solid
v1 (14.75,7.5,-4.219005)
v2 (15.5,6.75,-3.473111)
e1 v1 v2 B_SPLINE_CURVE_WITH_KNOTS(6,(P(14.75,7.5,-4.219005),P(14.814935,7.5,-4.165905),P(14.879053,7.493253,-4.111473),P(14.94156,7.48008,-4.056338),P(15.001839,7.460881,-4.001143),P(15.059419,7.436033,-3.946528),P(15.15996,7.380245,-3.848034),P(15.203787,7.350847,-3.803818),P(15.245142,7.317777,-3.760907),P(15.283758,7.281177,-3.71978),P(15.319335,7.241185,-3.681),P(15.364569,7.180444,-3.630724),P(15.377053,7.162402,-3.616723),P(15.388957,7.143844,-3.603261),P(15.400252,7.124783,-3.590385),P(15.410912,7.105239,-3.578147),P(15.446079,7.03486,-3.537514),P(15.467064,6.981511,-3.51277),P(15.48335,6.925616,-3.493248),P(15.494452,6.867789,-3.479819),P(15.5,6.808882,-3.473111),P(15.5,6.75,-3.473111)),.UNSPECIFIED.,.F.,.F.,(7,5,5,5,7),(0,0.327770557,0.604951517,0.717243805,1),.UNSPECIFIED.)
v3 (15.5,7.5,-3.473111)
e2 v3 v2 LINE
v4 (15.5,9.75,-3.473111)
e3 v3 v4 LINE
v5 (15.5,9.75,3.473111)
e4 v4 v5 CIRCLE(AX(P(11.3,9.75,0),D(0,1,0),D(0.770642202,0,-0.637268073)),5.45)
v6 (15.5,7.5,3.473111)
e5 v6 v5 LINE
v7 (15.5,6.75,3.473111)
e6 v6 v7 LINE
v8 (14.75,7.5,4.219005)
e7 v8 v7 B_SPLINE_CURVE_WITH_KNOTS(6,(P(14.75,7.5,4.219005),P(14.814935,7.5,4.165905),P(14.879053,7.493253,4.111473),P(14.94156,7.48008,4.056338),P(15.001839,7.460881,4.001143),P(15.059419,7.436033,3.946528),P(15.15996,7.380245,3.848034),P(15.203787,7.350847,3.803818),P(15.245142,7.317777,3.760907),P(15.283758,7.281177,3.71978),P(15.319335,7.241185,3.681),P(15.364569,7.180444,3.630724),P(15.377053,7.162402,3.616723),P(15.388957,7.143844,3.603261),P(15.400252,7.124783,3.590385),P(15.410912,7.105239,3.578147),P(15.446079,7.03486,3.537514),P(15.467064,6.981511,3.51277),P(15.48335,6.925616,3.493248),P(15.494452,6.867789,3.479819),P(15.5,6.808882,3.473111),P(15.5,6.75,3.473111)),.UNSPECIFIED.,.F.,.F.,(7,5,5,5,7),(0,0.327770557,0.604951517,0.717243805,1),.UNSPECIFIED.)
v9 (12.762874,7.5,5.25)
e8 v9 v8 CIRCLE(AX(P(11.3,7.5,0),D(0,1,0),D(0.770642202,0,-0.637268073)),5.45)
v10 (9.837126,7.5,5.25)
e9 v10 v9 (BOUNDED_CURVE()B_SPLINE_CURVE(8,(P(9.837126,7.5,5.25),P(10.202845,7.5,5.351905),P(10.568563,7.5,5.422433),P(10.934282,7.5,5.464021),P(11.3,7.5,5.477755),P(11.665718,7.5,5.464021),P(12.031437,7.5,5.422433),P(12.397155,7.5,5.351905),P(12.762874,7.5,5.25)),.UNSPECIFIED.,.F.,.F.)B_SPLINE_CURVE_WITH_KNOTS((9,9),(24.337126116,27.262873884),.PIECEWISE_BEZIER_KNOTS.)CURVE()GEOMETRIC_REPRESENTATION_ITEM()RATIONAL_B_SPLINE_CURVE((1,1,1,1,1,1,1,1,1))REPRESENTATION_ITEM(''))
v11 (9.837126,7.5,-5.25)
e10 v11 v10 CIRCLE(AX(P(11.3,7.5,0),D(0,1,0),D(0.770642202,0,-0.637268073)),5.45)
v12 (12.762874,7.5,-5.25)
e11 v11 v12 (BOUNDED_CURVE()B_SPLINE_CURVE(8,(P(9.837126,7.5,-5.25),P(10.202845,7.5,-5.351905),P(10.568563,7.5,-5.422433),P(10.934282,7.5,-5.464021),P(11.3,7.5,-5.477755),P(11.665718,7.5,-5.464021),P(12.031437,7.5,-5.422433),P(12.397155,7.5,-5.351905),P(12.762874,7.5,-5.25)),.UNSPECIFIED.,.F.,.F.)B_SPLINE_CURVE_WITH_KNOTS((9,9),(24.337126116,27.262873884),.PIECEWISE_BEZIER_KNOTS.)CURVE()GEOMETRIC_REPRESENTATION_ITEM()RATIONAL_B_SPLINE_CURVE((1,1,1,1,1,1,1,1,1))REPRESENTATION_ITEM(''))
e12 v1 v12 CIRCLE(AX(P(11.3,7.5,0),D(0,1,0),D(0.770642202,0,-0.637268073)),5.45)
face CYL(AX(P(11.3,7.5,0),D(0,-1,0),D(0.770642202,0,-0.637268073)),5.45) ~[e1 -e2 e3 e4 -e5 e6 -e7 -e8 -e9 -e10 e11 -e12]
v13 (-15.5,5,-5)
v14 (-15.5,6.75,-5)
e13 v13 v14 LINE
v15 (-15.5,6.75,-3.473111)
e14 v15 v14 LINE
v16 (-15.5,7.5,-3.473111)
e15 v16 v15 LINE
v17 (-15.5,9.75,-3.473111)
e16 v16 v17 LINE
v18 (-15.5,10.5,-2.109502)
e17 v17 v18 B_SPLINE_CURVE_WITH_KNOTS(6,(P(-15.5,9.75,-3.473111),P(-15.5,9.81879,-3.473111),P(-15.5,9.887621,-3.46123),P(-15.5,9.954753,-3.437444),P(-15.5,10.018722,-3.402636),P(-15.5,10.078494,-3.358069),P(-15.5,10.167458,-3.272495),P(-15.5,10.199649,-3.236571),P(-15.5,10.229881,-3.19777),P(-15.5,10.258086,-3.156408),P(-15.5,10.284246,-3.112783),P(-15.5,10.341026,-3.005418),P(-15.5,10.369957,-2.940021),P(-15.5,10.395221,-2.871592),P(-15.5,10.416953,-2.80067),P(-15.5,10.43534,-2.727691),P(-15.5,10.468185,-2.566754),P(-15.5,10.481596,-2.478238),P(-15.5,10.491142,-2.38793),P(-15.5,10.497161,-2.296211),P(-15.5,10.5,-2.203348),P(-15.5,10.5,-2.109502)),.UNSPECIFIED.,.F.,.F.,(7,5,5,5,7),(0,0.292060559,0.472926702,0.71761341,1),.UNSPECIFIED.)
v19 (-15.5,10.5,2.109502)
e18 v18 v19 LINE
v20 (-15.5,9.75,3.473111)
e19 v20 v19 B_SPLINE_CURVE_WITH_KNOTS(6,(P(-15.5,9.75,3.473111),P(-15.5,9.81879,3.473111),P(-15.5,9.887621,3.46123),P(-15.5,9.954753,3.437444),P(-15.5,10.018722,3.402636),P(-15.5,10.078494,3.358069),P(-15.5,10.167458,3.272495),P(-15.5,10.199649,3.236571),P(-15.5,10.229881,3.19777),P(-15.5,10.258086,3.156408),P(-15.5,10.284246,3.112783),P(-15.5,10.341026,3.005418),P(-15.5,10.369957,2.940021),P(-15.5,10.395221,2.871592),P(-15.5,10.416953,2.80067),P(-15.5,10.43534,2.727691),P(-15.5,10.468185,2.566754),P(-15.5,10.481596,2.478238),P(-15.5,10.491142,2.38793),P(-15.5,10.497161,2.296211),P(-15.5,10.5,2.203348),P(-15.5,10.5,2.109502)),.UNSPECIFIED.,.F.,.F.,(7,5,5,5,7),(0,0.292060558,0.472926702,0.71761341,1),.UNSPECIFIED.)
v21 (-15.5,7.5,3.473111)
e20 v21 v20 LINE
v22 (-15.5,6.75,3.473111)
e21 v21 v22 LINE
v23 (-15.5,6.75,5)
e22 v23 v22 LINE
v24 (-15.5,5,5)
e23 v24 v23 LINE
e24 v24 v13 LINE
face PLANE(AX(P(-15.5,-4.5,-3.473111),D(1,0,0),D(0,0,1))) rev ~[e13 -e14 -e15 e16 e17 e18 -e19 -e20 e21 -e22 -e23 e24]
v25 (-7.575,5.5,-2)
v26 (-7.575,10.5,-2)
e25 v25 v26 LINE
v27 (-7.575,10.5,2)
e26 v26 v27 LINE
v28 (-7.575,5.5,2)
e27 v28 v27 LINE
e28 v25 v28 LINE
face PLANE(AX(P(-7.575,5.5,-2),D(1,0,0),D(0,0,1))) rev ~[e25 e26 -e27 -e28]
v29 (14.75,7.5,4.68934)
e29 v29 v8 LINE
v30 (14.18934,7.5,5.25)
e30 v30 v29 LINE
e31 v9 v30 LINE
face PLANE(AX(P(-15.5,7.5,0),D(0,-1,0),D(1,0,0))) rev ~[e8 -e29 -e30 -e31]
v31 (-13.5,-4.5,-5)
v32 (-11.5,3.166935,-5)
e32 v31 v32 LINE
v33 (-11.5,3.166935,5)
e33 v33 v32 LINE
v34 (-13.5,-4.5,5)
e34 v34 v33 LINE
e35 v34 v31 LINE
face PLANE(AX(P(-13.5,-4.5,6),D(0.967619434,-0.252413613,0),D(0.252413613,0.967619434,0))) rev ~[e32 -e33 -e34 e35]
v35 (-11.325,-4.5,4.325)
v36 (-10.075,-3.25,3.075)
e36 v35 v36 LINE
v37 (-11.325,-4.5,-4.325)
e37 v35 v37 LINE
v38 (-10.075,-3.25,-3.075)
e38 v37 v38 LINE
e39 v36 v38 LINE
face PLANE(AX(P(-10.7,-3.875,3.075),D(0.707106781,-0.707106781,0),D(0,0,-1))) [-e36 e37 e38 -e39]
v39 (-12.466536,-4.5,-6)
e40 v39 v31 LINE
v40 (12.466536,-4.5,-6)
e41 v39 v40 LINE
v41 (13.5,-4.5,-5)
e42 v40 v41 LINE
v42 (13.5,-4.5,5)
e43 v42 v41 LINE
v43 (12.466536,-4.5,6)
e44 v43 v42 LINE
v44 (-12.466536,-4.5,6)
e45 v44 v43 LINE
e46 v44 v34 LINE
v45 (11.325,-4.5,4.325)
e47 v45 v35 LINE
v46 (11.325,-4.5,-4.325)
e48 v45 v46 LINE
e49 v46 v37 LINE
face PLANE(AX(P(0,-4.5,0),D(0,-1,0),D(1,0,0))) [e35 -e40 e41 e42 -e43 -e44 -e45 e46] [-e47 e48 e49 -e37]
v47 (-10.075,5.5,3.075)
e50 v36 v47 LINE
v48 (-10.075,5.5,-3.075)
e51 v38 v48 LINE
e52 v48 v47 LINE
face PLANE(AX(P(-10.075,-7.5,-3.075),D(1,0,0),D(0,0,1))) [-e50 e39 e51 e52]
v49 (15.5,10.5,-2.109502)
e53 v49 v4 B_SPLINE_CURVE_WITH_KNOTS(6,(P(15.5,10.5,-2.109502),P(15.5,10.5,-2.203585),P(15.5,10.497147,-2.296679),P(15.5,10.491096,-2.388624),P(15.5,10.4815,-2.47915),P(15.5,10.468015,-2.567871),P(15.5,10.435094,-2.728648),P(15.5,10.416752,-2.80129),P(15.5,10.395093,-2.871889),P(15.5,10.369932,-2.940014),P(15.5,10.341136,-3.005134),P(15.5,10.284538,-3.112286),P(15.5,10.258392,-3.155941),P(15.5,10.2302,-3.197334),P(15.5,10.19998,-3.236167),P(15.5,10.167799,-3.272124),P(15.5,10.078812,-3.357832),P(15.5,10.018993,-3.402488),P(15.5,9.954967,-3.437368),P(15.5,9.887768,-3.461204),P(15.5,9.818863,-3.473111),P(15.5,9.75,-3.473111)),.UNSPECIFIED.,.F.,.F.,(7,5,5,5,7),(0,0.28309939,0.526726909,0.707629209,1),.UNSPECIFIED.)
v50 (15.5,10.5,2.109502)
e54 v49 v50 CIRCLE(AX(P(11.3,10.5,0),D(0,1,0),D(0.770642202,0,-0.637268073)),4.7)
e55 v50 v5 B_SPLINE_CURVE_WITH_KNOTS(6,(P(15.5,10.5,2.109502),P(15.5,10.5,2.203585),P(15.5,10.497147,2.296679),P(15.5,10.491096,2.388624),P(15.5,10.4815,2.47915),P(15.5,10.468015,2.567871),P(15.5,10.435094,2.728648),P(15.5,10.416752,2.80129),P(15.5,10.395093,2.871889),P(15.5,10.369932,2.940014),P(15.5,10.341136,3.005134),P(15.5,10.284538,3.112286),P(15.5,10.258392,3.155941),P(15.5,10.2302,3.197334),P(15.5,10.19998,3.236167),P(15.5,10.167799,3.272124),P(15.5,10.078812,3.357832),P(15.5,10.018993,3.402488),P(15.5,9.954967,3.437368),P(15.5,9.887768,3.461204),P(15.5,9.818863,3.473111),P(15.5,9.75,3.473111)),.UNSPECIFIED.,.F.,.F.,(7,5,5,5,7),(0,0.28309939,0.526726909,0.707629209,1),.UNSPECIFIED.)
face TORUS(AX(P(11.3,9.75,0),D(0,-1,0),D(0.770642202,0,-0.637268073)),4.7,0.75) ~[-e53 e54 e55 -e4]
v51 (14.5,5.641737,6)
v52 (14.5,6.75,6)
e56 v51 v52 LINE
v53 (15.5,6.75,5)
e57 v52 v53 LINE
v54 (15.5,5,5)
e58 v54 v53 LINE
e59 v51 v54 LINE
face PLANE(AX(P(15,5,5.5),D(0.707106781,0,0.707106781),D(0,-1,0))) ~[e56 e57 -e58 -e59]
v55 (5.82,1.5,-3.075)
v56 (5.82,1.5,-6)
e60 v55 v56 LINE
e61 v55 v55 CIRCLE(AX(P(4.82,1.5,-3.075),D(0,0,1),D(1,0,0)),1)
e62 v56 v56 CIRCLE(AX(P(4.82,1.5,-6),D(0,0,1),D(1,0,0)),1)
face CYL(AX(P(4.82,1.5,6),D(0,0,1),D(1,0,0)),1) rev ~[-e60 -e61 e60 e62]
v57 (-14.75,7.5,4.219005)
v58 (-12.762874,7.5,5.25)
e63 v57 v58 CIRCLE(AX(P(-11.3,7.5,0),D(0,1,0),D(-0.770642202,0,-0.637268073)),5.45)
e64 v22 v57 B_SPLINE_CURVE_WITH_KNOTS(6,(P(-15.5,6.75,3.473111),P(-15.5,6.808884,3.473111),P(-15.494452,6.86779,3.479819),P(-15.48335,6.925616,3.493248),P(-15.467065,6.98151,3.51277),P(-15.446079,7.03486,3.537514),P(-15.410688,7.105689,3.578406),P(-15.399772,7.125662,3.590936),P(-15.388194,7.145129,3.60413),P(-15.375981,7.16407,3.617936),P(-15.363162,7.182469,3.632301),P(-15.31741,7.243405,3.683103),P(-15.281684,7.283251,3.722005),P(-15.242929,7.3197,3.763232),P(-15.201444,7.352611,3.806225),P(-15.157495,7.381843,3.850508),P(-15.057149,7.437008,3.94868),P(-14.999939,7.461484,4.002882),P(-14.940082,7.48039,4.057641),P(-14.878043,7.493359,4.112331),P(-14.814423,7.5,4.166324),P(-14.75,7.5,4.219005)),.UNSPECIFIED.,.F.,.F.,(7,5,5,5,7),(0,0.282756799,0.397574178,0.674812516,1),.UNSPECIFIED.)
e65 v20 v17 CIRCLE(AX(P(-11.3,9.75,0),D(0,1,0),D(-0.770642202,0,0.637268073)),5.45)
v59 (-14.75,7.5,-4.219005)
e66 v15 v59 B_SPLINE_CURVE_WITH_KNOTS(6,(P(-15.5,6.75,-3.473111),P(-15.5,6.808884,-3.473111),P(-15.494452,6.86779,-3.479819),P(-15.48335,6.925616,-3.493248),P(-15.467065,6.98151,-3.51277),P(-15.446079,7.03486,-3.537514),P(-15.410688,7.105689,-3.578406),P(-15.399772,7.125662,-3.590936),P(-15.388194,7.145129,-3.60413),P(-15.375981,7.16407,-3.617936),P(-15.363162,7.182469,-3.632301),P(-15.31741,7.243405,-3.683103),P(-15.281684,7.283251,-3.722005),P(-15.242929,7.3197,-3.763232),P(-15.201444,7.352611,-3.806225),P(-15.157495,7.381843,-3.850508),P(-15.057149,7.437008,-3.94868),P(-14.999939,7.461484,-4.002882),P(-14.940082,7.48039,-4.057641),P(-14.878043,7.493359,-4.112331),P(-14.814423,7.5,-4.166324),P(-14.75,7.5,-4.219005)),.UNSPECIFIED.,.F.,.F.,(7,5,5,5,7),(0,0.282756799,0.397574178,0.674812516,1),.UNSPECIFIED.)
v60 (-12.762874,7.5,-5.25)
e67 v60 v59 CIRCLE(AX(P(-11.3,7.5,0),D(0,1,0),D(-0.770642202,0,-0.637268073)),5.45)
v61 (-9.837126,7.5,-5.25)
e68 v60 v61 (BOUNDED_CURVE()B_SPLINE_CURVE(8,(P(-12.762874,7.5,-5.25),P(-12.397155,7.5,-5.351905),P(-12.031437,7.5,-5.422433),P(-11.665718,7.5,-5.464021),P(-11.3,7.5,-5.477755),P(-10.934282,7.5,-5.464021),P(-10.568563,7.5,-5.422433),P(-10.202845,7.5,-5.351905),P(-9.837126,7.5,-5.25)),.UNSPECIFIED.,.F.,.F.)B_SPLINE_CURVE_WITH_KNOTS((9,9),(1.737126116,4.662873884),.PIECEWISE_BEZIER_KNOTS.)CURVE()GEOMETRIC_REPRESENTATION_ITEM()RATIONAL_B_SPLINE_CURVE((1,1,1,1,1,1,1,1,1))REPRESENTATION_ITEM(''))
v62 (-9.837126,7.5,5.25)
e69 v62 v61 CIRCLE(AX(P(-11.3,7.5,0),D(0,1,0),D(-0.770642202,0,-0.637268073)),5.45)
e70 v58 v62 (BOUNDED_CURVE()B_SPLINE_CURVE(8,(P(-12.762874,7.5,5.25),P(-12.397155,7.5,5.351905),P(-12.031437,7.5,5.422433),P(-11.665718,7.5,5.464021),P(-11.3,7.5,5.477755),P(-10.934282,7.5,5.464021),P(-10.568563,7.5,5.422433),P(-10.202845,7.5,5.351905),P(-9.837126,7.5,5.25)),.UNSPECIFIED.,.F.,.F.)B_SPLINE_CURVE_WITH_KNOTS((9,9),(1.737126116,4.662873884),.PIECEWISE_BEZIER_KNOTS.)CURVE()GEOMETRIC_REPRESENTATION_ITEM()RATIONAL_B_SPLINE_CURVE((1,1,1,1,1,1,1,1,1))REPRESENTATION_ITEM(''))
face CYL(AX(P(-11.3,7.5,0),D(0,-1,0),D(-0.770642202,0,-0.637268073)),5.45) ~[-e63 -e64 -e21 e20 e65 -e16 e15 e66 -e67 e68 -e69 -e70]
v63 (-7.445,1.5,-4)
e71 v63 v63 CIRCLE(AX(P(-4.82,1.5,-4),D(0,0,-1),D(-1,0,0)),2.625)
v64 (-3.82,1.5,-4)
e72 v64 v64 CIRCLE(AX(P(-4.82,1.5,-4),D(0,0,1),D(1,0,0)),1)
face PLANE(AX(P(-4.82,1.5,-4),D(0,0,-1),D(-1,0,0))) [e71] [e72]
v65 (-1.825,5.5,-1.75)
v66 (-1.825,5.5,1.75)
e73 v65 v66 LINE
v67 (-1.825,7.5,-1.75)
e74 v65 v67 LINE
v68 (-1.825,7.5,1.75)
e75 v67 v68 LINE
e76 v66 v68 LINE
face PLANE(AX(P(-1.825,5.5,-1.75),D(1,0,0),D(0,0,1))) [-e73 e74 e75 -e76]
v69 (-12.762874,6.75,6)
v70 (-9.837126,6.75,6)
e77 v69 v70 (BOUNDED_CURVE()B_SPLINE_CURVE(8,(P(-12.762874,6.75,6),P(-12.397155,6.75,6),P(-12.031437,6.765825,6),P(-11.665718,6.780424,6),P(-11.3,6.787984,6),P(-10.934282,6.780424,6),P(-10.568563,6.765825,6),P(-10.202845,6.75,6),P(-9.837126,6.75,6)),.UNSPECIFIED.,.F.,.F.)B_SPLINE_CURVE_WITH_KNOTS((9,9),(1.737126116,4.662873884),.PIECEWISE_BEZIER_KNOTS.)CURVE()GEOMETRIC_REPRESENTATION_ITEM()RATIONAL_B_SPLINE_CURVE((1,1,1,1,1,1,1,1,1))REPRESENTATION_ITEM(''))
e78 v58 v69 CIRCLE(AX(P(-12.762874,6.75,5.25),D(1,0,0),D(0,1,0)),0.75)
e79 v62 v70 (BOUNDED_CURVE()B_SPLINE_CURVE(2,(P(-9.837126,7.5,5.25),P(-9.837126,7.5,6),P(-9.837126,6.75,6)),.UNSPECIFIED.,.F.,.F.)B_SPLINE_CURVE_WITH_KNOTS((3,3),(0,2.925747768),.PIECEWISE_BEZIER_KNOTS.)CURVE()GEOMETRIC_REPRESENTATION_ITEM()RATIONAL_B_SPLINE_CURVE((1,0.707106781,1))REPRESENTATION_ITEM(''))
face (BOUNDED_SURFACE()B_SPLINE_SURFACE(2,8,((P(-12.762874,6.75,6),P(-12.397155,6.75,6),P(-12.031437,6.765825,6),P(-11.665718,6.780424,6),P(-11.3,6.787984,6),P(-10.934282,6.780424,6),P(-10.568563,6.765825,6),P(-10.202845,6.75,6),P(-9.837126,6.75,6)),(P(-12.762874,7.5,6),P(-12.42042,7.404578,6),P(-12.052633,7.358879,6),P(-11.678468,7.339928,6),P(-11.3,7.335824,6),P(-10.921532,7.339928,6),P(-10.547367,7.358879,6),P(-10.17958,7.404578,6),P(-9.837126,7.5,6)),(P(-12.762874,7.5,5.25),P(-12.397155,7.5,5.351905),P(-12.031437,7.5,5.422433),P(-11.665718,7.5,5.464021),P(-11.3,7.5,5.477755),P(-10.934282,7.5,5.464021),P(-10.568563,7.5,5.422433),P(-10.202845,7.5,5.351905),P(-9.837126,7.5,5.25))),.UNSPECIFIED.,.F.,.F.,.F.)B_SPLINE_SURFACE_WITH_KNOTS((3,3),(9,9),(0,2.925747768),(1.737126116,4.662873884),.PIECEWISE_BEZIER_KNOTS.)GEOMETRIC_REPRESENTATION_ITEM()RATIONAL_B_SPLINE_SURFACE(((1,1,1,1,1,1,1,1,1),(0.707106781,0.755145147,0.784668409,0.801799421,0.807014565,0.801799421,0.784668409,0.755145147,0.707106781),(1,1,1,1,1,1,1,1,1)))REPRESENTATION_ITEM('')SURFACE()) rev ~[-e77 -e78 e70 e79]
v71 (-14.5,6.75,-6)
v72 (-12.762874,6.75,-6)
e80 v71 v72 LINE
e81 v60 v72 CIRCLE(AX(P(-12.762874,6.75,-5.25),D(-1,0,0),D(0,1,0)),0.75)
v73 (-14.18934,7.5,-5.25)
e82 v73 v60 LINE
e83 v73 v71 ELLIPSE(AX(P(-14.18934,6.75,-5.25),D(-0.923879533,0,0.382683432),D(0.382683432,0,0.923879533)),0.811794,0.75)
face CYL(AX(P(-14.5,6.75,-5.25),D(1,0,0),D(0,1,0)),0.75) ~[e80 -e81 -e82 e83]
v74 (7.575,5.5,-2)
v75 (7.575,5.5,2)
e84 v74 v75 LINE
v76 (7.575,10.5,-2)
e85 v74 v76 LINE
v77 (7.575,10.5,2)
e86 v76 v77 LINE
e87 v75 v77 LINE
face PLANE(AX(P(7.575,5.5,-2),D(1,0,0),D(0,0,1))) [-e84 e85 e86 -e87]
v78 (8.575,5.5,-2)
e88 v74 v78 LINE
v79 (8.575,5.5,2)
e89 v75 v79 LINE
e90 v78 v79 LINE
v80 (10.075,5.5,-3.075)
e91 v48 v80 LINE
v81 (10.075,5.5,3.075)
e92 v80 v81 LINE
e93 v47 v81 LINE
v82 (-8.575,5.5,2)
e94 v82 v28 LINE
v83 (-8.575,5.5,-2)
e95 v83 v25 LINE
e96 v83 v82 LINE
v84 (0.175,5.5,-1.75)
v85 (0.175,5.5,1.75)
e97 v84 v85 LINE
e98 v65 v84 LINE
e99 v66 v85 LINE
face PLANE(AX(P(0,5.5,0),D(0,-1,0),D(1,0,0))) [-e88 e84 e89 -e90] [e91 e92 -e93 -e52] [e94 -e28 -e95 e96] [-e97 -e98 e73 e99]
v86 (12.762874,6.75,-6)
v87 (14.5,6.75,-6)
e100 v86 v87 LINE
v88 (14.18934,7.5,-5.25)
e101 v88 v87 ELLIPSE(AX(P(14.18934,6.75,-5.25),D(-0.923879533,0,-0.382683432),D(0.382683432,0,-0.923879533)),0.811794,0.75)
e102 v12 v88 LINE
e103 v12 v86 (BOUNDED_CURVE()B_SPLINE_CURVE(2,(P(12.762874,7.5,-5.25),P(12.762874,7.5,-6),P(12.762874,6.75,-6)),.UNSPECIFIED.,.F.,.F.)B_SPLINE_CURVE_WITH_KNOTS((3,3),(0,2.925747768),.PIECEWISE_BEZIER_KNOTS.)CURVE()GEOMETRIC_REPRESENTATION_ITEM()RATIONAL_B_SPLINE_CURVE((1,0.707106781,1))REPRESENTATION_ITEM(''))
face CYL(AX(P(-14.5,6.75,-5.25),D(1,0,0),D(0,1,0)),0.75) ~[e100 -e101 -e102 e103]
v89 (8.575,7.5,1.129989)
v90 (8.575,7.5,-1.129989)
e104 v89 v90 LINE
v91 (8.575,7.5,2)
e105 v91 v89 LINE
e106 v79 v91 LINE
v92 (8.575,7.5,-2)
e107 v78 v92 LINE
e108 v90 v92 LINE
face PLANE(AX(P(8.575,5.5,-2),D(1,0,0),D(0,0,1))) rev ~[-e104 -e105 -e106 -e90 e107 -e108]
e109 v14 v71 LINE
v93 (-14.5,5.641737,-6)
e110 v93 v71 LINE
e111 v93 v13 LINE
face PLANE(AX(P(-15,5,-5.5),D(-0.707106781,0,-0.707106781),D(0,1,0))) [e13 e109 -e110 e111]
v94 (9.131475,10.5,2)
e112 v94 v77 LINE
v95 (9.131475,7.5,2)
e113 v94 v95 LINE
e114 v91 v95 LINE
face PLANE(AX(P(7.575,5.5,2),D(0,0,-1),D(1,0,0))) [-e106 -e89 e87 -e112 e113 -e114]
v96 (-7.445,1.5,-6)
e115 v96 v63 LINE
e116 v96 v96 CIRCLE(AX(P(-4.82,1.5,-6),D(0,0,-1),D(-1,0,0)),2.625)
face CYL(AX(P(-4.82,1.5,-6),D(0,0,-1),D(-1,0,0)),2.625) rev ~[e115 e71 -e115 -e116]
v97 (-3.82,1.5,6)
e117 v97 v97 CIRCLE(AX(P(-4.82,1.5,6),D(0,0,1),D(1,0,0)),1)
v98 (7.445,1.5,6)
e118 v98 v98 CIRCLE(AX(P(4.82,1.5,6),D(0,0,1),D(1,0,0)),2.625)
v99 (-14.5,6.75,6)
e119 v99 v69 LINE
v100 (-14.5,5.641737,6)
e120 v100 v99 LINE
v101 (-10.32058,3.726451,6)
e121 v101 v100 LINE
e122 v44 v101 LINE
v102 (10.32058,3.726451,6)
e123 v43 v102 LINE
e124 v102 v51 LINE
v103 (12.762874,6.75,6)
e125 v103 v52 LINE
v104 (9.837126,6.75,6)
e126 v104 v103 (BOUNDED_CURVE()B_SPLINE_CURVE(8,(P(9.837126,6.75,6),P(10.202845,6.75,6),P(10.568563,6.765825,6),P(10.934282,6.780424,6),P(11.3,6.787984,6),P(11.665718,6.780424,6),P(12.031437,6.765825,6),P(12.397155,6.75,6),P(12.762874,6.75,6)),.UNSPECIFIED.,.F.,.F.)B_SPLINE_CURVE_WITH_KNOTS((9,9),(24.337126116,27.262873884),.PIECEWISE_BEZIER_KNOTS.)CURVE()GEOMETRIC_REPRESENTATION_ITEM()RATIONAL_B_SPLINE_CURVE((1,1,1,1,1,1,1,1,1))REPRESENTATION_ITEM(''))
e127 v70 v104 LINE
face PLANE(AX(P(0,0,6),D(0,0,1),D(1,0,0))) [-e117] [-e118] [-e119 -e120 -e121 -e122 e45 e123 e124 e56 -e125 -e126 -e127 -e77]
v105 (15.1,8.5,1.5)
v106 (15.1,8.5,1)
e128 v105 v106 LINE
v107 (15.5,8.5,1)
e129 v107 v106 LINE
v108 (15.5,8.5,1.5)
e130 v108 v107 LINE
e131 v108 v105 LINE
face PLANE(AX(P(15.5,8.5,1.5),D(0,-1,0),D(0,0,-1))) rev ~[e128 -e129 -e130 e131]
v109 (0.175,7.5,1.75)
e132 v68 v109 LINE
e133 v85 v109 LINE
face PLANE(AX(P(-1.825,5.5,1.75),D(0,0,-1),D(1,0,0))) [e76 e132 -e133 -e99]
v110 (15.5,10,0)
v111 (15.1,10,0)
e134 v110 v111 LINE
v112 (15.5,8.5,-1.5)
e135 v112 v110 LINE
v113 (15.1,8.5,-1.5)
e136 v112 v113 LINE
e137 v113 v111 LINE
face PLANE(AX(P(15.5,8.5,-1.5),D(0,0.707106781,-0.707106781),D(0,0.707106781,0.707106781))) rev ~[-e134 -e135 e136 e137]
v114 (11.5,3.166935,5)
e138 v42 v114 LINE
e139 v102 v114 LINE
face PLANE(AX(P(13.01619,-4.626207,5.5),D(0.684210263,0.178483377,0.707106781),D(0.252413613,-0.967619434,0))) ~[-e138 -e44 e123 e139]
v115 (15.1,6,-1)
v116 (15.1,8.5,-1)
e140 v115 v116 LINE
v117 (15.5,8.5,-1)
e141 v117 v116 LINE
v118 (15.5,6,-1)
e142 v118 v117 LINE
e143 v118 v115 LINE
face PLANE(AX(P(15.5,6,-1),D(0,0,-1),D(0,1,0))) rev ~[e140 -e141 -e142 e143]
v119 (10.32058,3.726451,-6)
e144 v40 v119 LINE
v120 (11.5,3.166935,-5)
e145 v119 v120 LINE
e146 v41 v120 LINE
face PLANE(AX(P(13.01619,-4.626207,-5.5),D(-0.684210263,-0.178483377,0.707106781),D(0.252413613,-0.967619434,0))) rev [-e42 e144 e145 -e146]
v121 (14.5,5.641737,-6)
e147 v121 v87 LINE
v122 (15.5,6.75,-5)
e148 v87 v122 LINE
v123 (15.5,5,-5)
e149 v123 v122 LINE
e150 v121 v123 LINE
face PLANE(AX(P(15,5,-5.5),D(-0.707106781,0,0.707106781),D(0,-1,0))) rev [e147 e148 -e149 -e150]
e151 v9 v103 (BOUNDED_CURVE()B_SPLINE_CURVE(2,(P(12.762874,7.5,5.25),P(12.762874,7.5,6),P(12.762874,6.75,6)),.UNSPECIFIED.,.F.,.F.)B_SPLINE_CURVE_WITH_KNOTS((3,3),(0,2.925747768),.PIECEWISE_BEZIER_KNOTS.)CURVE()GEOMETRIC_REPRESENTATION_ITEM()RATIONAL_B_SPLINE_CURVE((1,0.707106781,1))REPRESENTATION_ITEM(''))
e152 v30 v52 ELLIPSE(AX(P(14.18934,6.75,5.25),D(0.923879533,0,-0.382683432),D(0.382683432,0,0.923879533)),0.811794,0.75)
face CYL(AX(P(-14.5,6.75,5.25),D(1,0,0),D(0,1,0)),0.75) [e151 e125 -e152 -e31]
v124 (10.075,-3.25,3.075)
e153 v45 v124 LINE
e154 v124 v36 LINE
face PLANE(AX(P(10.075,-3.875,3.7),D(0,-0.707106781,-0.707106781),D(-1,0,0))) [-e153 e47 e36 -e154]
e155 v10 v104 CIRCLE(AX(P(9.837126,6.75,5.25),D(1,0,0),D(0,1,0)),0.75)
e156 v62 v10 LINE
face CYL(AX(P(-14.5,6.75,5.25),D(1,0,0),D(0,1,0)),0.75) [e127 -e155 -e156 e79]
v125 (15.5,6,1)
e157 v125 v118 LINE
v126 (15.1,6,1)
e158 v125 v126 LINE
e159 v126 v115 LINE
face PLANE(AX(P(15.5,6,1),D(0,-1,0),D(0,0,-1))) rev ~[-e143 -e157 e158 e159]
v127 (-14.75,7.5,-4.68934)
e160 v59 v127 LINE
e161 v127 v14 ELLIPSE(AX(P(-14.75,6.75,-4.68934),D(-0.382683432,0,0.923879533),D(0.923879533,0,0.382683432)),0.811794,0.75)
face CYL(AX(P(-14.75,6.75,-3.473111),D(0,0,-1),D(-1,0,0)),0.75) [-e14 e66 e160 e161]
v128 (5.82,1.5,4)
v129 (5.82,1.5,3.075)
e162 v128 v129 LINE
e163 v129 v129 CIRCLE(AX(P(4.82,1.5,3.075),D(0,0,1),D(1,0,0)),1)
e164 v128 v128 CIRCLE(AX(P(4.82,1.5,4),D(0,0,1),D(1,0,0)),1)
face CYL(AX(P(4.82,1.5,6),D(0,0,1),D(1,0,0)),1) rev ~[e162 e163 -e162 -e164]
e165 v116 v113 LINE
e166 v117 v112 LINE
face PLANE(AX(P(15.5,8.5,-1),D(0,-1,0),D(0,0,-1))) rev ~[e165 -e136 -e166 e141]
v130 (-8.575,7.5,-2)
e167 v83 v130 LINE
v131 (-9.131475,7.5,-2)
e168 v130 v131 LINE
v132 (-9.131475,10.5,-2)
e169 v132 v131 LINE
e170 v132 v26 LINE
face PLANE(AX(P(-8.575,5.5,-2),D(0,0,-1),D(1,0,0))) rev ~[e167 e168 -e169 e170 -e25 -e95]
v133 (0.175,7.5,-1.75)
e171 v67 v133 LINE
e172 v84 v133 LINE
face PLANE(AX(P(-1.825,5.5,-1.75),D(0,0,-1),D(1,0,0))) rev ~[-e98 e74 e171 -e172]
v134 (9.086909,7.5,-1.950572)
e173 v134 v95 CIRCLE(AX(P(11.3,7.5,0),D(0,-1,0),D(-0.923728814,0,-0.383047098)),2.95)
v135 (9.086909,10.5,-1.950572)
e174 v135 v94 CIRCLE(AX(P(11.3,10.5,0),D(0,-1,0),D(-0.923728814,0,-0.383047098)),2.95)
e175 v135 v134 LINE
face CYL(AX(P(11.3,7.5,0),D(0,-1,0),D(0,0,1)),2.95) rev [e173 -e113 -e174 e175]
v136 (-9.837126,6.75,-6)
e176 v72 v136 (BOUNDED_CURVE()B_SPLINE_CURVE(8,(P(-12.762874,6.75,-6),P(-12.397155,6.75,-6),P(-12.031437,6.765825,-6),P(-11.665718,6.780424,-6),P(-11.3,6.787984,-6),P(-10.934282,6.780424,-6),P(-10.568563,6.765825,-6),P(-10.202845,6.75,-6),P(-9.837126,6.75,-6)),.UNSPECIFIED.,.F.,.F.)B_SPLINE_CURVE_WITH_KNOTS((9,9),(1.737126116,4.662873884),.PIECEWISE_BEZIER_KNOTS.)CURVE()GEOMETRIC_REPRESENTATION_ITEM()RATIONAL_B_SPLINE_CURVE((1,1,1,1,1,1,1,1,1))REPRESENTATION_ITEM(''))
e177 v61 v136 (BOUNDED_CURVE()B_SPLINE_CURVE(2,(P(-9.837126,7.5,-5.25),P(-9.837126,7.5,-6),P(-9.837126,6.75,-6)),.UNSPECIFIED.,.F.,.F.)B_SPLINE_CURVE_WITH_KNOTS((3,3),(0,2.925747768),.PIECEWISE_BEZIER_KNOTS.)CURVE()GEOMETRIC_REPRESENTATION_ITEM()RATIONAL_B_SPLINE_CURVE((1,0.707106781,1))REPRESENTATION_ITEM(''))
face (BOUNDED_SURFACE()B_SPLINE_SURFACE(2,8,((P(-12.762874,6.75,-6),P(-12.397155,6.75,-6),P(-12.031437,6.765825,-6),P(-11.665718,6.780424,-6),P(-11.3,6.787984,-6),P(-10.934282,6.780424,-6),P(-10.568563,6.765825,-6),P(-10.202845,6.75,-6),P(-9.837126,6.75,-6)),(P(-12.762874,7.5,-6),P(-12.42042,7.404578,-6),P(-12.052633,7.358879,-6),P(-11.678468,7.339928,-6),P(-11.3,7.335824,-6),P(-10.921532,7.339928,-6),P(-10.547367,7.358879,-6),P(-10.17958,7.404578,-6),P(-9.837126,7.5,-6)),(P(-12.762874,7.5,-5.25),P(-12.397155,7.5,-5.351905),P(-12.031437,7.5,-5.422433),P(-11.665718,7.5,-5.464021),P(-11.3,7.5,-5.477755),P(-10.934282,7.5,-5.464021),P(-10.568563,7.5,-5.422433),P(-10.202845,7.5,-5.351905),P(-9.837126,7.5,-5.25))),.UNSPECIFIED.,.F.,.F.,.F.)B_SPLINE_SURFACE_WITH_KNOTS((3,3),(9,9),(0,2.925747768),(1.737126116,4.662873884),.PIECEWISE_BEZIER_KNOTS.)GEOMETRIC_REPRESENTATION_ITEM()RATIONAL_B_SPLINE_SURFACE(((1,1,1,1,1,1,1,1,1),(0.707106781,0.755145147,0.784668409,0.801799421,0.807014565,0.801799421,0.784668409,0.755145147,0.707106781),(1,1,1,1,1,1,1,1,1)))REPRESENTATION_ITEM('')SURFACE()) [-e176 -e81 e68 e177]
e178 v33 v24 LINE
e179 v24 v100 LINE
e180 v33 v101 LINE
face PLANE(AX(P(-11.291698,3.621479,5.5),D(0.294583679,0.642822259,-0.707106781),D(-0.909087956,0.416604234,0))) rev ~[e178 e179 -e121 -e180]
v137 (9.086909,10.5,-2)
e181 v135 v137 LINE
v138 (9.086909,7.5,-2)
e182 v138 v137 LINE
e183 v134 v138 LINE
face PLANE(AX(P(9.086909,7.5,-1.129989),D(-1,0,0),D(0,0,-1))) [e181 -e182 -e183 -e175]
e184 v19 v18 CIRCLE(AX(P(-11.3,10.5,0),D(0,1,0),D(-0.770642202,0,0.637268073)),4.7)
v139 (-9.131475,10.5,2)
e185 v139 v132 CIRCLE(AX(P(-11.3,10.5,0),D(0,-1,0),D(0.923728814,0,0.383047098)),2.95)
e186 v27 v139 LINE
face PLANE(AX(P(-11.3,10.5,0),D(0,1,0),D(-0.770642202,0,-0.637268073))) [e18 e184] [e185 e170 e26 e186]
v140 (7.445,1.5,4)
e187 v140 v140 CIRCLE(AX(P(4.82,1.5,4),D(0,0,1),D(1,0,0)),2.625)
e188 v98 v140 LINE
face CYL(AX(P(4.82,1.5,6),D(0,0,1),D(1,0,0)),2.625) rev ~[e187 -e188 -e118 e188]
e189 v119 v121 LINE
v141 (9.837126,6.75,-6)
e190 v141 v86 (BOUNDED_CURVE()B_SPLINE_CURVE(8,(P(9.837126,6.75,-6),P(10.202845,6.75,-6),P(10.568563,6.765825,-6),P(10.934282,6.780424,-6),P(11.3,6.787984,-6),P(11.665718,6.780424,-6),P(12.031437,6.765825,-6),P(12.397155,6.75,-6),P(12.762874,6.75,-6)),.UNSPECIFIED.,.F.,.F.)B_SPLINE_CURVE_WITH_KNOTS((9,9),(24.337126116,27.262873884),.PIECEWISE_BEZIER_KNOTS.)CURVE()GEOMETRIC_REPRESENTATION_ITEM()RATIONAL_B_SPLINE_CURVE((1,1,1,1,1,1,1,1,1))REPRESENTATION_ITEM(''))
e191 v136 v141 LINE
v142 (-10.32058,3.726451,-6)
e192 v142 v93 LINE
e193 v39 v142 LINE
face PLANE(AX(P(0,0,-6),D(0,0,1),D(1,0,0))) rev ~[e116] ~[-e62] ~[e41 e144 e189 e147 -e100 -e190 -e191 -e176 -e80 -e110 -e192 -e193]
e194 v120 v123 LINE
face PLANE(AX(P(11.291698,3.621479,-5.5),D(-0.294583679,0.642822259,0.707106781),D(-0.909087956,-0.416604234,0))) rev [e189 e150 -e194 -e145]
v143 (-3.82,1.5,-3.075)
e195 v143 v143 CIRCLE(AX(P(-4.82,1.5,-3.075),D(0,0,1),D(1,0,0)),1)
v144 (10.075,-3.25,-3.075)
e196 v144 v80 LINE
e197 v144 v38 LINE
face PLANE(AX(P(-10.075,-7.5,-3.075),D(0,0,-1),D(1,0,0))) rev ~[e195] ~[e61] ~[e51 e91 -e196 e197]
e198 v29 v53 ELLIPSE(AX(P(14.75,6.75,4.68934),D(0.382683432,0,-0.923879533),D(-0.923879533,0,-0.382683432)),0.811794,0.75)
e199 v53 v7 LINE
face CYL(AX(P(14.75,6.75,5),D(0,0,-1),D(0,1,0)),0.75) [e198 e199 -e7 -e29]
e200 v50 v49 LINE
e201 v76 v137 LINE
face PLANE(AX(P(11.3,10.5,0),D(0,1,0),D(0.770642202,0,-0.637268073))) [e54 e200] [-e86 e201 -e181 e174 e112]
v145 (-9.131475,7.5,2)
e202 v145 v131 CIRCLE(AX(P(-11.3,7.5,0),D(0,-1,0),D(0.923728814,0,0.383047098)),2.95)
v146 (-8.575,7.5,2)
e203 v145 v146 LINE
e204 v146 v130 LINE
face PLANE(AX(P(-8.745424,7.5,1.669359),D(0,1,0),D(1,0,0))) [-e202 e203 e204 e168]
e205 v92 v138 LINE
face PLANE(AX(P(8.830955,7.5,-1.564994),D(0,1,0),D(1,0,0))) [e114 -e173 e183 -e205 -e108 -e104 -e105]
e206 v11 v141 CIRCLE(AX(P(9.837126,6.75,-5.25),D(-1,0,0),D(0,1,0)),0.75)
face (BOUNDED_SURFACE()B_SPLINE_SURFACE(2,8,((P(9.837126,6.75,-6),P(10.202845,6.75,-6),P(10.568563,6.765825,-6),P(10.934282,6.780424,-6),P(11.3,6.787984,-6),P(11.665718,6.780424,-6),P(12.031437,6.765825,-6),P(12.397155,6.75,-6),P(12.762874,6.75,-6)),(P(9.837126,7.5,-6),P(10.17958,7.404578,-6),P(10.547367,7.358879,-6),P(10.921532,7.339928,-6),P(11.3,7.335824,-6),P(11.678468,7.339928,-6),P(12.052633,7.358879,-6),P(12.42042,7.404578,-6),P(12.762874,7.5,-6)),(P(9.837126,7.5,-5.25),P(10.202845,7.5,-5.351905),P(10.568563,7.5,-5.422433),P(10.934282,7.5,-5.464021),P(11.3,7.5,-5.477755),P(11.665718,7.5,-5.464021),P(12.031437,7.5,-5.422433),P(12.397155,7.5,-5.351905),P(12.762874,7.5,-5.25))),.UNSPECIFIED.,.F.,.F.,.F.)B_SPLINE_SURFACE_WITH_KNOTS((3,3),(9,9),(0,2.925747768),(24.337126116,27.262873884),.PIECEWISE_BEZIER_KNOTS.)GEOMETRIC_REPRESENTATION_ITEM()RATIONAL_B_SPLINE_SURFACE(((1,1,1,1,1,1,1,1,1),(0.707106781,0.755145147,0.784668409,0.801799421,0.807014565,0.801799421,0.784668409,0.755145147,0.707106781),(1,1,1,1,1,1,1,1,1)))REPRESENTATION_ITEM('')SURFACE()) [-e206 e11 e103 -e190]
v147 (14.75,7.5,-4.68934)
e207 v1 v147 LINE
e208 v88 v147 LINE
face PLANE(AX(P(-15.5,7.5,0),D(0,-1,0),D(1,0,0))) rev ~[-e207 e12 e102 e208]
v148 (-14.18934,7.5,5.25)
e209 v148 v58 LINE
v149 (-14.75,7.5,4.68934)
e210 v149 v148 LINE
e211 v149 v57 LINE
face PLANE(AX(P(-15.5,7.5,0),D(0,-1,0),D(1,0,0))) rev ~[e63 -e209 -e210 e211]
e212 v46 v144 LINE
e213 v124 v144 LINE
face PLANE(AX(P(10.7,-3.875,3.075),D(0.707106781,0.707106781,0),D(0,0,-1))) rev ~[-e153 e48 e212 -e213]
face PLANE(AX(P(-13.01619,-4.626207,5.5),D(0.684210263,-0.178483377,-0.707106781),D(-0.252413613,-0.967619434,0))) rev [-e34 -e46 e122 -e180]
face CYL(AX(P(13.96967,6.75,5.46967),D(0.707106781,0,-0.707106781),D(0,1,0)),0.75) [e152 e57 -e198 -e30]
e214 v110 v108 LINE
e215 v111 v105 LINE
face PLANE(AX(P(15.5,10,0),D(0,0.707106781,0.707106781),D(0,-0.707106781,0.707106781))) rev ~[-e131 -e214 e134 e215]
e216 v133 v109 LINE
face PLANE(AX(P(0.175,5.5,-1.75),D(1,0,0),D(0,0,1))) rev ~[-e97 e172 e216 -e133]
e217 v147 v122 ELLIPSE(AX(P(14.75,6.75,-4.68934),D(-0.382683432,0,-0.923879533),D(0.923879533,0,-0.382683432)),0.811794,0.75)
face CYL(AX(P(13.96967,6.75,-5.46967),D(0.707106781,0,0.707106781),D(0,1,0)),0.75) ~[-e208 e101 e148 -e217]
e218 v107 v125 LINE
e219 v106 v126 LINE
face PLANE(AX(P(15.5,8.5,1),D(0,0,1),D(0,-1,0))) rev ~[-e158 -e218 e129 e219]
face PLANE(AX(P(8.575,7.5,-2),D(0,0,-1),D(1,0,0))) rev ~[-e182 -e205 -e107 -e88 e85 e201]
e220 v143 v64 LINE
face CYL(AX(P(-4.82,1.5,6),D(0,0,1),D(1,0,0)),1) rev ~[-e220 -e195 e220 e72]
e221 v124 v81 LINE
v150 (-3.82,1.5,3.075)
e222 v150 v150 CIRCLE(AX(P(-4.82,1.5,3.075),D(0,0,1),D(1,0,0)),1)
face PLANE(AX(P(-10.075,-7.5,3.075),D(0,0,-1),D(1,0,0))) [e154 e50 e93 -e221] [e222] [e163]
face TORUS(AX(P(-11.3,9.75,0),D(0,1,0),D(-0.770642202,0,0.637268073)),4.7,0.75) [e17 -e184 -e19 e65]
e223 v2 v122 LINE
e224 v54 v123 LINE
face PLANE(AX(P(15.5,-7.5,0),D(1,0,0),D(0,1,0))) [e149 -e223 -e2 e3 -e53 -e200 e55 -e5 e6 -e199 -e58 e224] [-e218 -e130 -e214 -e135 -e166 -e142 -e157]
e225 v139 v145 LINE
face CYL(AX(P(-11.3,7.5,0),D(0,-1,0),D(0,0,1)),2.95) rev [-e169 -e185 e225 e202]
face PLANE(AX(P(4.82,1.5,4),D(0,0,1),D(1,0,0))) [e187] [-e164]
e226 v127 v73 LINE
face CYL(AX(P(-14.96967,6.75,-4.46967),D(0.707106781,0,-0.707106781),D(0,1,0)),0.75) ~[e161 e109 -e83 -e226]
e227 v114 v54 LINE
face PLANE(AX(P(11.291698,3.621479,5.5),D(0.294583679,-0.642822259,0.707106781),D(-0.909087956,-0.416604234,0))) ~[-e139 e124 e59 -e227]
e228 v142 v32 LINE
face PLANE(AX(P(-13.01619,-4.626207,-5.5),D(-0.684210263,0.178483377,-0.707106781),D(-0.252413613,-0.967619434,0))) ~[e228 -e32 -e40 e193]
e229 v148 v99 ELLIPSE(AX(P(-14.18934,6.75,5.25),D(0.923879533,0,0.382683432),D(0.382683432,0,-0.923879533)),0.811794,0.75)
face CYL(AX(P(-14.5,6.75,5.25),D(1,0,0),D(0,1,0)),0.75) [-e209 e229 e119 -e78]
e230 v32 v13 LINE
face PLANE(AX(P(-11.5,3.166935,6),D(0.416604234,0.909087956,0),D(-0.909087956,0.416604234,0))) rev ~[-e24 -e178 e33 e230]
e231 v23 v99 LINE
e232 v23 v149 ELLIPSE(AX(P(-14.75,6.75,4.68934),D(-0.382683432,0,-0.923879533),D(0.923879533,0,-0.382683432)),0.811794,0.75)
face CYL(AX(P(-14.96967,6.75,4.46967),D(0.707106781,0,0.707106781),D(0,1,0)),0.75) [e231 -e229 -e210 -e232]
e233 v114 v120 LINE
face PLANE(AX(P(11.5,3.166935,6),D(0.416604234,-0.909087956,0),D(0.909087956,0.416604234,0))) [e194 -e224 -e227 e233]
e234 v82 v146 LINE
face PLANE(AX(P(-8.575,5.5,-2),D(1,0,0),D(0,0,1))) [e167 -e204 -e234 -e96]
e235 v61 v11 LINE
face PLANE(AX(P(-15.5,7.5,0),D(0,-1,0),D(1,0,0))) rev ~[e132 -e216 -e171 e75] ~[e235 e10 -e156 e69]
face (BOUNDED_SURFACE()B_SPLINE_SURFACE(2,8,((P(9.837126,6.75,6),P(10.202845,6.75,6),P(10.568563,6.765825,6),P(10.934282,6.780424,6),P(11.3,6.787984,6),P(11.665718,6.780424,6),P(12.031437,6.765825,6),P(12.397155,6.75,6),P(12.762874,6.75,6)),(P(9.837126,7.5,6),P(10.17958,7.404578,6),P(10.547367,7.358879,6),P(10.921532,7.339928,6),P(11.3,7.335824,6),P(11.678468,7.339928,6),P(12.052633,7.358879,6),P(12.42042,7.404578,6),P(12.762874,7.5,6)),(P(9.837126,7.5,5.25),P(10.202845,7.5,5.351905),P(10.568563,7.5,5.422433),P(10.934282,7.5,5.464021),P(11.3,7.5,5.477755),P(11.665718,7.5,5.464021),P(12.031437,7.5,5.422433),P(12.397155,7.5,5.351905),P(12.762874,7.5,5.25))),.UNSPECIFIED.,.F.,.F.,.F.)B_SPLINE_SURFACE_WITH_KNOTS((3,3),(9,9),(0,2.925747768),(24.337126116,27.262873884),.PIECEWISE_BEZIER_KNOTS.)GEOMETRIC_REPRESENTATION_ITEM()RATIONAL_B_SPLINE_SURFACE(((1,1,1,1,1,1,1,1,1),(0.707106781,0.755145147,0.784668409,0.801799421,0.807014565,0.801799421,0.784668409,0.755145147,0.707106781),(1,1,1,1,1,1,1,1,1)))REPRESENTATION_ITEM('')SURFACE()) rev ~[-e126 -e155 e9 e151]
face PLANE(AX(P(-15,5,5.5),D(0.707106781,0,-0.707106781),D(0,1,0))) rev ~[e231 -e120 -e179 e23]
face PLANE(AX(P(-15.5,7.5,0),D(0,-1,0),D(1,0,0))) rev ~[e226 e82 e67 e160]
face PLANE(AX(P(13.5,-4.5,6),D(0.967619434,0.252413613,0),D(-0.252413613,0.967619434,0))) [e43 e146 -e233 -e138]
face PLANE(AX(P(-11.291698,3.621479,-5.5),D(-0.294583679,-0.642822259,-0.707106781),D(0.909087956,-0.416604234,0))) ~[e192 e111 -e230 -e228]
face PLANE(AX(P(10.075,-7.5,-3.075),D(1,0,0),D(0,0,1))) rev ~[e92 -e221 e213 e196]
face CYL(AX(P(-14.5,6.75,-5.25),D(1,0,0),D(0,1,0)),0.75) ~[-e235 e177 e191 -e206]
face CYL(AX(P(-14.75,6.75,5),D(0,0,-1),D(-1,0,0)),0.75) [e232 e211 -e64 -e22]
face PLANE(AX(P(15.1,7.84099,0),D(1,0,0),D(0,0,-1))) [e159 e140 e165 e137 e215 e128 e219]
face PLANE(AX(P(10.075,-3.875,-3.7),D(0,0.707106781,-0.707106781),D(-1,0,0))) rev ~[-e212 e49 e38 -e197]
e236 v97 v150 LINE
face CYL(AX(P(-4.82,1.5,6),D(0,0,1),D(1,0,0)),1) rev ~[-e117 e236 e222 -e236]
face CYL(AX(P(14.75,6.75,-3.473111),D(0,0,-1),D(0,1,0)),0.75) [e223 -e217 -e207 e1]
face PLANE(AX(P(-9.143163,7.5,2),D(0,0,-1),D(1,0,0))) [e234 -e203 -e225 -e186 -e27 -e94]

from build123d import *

# Parameters (mm, degrees)
SKETCH1_W           = 31
SKETCH1_H           = 15
BOSS_EXTRUDE1_DEPTH = 6
SKETCH2_W           = 20.15
SKETCH2_H           = 6.15
CUT_EXTRUDE1_DEPTH  = 13
SKETCH6_R           = 5.45
SKETCH6_R_2         = 2.95
BOSS_EXTRUDE3_DEPTH = 3
CUT_EXTRUDE3_REACH  = 24.035
SKETCH3_W           = 1
SKETCH3_H           = 4
SKETCH3_W_2         = 2
SKETCH3_H_2         = 3.5
CUT_EXTRUDE4_START  = -3
SKETCH7_W           = 0.511909323
SKETCH7_H           = 0.870011062
SKETCH7_W_2         = 0.855337353
SKETCH7_H_2         = 1.408005392
CUT_EXTRUDE4_DEPTH  = 3
SKETCH8_W           = 31
SKETCH8_H           = 12
CUT_EXTRUDE5_DEPTH  = 3
CUT_EXTRUDE6_REACH  = 25.126
SKETCH9_R           = 1
SKETCH10_R          = 2.625
CUT_EXTRUDE7_DEPTH  = 2
SKETCH11_R          = 2.625
CUT_EXTRUDE8_DEPTH  = 2
CUT_EXTRUDE9_DEPTH  = 15
FILLET3_R           = 0.75
CUT_EXTRUDE10_DEPTH = 12
CHAMFER2_SIZE       = 1
FILLET4_R           = 0.75
CHAMFER3_SIZE       = 1.25
CUT_EXTRUDE11_DEPTH = 0.4


with BuildPart() as part:
    # Sketch1 → Boss-Extrude1 (new, symmetric)
    with BuildSketch(Plane.XY):
        Rectangle(SKETCH1_W, SKETCH1_H)
    extrude(amount=BOSS_EXTRUDE1_DEPTH, both=True)

    # Sketch2 → Cut-Extrude1 (cut)
    with BuildSketch(Plane.XZ.offset(7.5)):
        Rectangle(SKETCH2_W, SKETCH2_H)
    extrude(amount=-CUT_EXTRUDE1_DEPTH, mode=Mode.SUBTRACT)

    # Sketch6 → Boss-Extrude3 (add)
    # profile 1 of 2: a face of its own
    with BuildSketch(Plane(origin=(0, 7.5, 0), x_dir=(1, 0, 0), z_dir=(0, 1, 0))):
        with Locations(Location((-11.3, 0, 0), (0, 0, 140.41159309))):
            Circle(SKETCH6_R)
        with Locations(Location((-11.3, 0, 0), (0, 0, 270))):
            Circle(SKETCH6_R_2, mode=Mode.SUBTRACT)
    # profile 2 of 2: a face of its own
    with BuildSketch(Plane(origin=(0, 7.5, 0), x_dir=(1, 0, 0), z_dir=(0, 1, 0))):
        with Locations(Location((11.3, 0, 0), (0, 0, 39.58840691))):
            Circle(SKETCH6_R)
        with Locations(Location((11.3, 0, 0), (0, 0, 270))):
            Circle(SKETCH6_R_2, mode=Mode.SUBTRACT)
    extrude(amount=BOSS_EXTRUDE3_DEPTH)

    # Cut-Extrude3: up to this face of the body (flat: up to its plane)
    cut_extrude3_end = Plane(part.part.faces().sort_by_distance((-7.218793939, 10.5, 3.374876584))[0])
    # Sketch3 → Cut-Extrude3 (cut, up to the picked face)
    with BuildSketch(Plane.XZ.offset(-5.5), mode=Mode.PRIVATE) as cut_extrude3_sk1:
        with Locations((8.075, 0)):
            Rectangle(SKETCH3_W, SKETCH3_H)
    cut_extrude3_tool1 = split(extrude(cut_extrude3_sk1.sketch, amount=-CUT_EXTRUDE3_REACH, mode=Mode.PRIVATE), bisect_by=cut_extrude3_end, keep=Keep.BOTH, mode=Mode.PRIVATE)
    # Sketch3 → Cut-Extrude3 (cut, up to the picked face)
    with BuildSketch(Plane.XZ.offset(-5.5), mode=Mode.PRIVATE) as cut_extrude3_sk2:
        with Locations((-8.075, 0)):
            Rectangle(SKETCH3_W, SKETCH3_H)
    cut_extrude3_tool2 = split(extrude(cut_extrude3_sk2.sketch, amount=-CUT_EXTRUDE3_REACH, mode=Mode.PRIVATE), bisect_by=cut_extrude3_end, keep=Keep.BOTH, mode=Mode.PRIVATE)
    # Sketch3 → Cut-Extrude3 (cut, up to the picked face)
    with BuildSketch(Plane.XZ.offset(-5.5), mode=Mode.PRIVATE) as cut_extrude3_sk3:
        with Locations((-0.825, 0)):
            Rectangle(SKETCH3_W_2, SKETCH3_H_2)
    cut_extrude3_tool3 = split(extrude(cut_extrude3_sk3.sketch, amount=-CUT_EXTRUDE3_REACH, mode=Mode.PRIVATE), bisect_by=cut_extrude3_end, keep=Keep.BOTH, mode=Mode.PRIVATE)
    add(cut_extrude3_tool1.solids().sort_by(Axis((8.075, 5.5, 0), (0, 1, 0)))[0], mode=Mode.SUBTRACT)
    add(cut_extrude3_tool2.solids().sort_by(Axis((-8.075, 5.5, 0), (0, 1, 0)))[0], mode=Mode.SUBTRACT)
    add(cut_extrude3_tool3.solids().sort_by(Axis((-0.825, 5.5, 0), (0, 1, 0)))[0], mode=Mode.SUBTRACT)

    # Sketch7 → Cut-Extrude4 (cut)
    with BuildSketch(Plane(origin=(0, 10.5, 0), x_dir=(1, 0, 0), z_dir=(0, 1, 0)).offset(CUT_EXTRUDE4_START)):
        with BuildLine():
            ThreePointArc((-8.575, 1.129988938), (-8.814868985, 1.58953573), (-9.131475156, 2))
            Line((-9.131475156, 2), (-9.143163494, 2))
            Line((-9.143163494, 2), (-9.143163494, 0.699379733))
            Line((-9.143163494, 0.699379733), (-8.575, 0.699379733))
            Line((-8.575, 0.699379733), (-8.575, 1.129988938))
        make_face()
        with BuildLine():
            Line((-8.575, 1.129988938), (-8.575, 2))
            Line((-8.575, 2), (-9.131475156, 2))
            ThreePointArc((-9.131475156, 2), (-8.814868985, 1.58953573), (-8.575, 1.129988938))
        make_face()
        with BuildLine():
            ThreePointArc((-8.575, -1.129988938), (-8.814868985, -1.58953573), (-9.131475156, -2))
            Line((-9.131475156, -2), (-8.575, -2))
            Line((-8.575, -2), (-8.575, -1.129988938))
        make_face()
        with BuildLine():
            Line((-9.143163494, -2), (-9.131475156, -2))
            ThreePointArc((-9.131475156, -2), (-8.814868985, -1.58953573), (-8.575, -1.129988938))
            Line((-8.575, -1.129988938), (-8.575, -0.709964508))
            Line((-8.575, -0.709964508), (-9.143163494, -0.709964508))
            Line((-9.143163494, -0.709964508), (-9.143163494, -2))
        make_face()
        with Locations((8.830954662, 1.564994469)):
            Rectangle(SKETCH7_W, SKETCH7_H)
        with Locations((9.002668677, -1.295997304)):
            Rectangle(SKETCH7_W_2, SKETCH7_H_2)
    extrude(amount=CUT_EXTRUDE4_DEPTH, mode=Mode.SUBTRACT)

    # Sketch8 → Cut-Extrude5 (cut)
    with BuildSketch(Plane.XZ.offset(7.5)):
        Rectangle(SKETCH8_W, SKETCH8_H)
    extrude(amount=-CUT_EXTRUDE5_DEPTH, mode=Mode.SUBTRACT)

    # Cut-Extrude6: up to this face of the body (flat: up to its plane)
    cut_extrude6_end = Plane(part.part.faces().sort_by_distance((0, 1.5, -6))[0])
    # Sketch9 → Cut-Extrude6 (cut, up to the picked face)
    with BuildSketch(Plane.XY.offset(6), mode=Mode.PRIVATE) as cut_extrude6_sk1:
        with Locations((4.82, 1.5)):
            Circle(SKETCH9_R)
    cut_extrude6_tool1 = split(extrude(cut_extrude6_sk1.sketch, amount=-CUT_EXTRUDE6_REACH, mode=Mode.PRIVATE), bisect_by=cut_extrude6_end, keep=Keep.BOTH, mode=Mode.PRIVATE)
    # Sketch9 → Cut-Extrude6 (cut, up to the picked face)
    with BuildSketch(Plane.XY.offset(6), mode=Mode.PRIVATE) as cut_extrude6_sk2:
        with Locations((-4.82, 1.5)):
            Circle(SKETCH9_R)
    cut_extrude6_tool2 = split(extrude(cut_extrude6_sk2.sketch, amount=-CUT_EXTRUDE6_REACH, mode=Mode.PRIVATE), bisect_by=cut_extrude6_end, keep=Keep.BOTH, mode=Mode.PRIVATE)
    add(cut_extrude6_tool1.solids().sort_by(Axis((4.82, 1.5, 6), (0, 0, -1)))[0], mode=Mode.SUBTRACT)
    add(cut_extrude6_tool2.solids().sort_by(Axis((-4.82, 1.5, 6), (0, 0, -1)))[0], mode=Mode.SUBTRACT)

    # Sketch10 → Cut-Extrude7 (cut)
    with BuildSketch(Plane.XY.offset(6)):
        with Locations((4.82, 1.5)):
            Circle(SKETCH10_R)
    extrude(amount=-CUT_EXTRUDE7_DEPTH, mode=Mode.SUBTRACT)

    # Sketch11 → Cut-Extrude8 (cut)
    with BuildSketch(Plane(origin=(0, 0, -6), x_dir=(-1, 0, 0), z_dir=(0, 0, -1))):
        with Locations((4.82, 1.5)):
            Circle(SKETCH11_R)
    extrude(amount=-CUT_EXTRUDE8_DEPTH, mode=Mode.SUBTRACT)

    # Sketch12 → Cut-Extrude9 (cut)
    with BuildSketch(Plane.XZ.offset(4.5)):
        with BuildLine():
            Line((15.5, 3.473110997), (15.5, -3.473110997))
            ThreePointArc((15.5, -3.473110997), (16.75, 0), (15.5, 3.473110997))
        make_face()
        with BuildLine():
            Line((-15.5, -3.473110997), (-15.5, 3.473110997))
            ThreePointArc((-15.5, 3.473110997), (-16.75, 0), (-15.5, -3.473110997))
        make_face()
    extrude(amount=-CUT_EXTRUDE9_DEPTH, mode=Mode.SUBTRACT)

    # Fillet3
    fillet3_edges = [part.edges().sort_by_distance(p)[0] for p in [
        (-5.85, 10.5, 0),
        (5.85, 10.5, 0),
    ]]
    fillet(fillet3_edges, radius=FILLET3_R)

    # Sketch13 → Cut-Extrude10 (cut)
    with BuildSketch(Plane.XY.offset(6)):
        Polygon((13.5, -4.5), (11.5, 3.166935416), (15.5, 5), (15.5, -4.5), align=None)
        Polygon((-15.5, 5), (-15.5, -4.5), (-13.5, -4.5), (-11.5, 3.166935416), align=None)
    extrude(amount=-CUT_EXTRUDE10_DEPTH, mode=Mode.SUBTRACT)

    # Chamfer2
    chamfer2_edges = [part.edges().sort_by_distance(p)[0] for p in [
        (-15.5, 6.25, 6),
        (15.5, 6.25, -6),
        (15.5, 6.25, 6),
        (13.5, 4.083467708, 6),
        (12.5, -0.666532292, 6),
        (12.5, -0.666532292, -6),
        (13.5, 4.083467708, -6),
        (-13.5, 4.083467708, 6),
        (-12.5, -0.666532292, 6),
        (-13.5, 4.083467708, -6),
        (-12.5, -0.666532292, -6),
        (-15.5, 6.25, -6),
    ]]
    chamfer(chamfer2_edges, length=CHAMFER2_SIZE)

    # Fillet4
    fillet4_edges = [part.edges().sort_by_distance(p)[0] for p in [
        (15.5, 7.5, -4.236555499),
        (0, 7.5, 6),
        (-15.5, 7.5, 4.236555499),
        (15.5, 7.5, 4.236555499),
        (0, 7.5, -6),
        (-15, 7.5, 5.5),
        (-15, 7.5, -5.5),
        (15, 7.5, -5.5),
        (15, 7.5, 5.5),
        (-15.5, 7.5, -4.236555499),
    ]]
    fillet(fillet4_edges, radius=FILLET4_R)

    # Chamfer3
    chamfer3_edges = [part.edges().sort_by_distance(p)[0] for p in [
        (0, -4.5, 3.075),
        (10.075, -4.5, 0),
        (0, -4.5, -3.075),
        (-10.075, -4.5, 0),
    ]]
    chamfer(chamfer3_edges, length=CHAMFER3_SIZE)

    # Sketch14 → Cut-Extrude11 (cut)
    with BuildSketch(Plane(origin=(15.5, 0, 0), x_dir=(0, 0, -1), z_dir=(1, 0, 0))):
        Polygon((-1, 6), (1, 6), (1, 8.5), (1.5, 8.5), (0, 10), (-1.5, 8.5), (-1, 8.5), align=None)
    extrude(amount=-CUT_EXTRUDE11_DEPTH, mode=Mode.SUBTRACT)


solid = part.part
